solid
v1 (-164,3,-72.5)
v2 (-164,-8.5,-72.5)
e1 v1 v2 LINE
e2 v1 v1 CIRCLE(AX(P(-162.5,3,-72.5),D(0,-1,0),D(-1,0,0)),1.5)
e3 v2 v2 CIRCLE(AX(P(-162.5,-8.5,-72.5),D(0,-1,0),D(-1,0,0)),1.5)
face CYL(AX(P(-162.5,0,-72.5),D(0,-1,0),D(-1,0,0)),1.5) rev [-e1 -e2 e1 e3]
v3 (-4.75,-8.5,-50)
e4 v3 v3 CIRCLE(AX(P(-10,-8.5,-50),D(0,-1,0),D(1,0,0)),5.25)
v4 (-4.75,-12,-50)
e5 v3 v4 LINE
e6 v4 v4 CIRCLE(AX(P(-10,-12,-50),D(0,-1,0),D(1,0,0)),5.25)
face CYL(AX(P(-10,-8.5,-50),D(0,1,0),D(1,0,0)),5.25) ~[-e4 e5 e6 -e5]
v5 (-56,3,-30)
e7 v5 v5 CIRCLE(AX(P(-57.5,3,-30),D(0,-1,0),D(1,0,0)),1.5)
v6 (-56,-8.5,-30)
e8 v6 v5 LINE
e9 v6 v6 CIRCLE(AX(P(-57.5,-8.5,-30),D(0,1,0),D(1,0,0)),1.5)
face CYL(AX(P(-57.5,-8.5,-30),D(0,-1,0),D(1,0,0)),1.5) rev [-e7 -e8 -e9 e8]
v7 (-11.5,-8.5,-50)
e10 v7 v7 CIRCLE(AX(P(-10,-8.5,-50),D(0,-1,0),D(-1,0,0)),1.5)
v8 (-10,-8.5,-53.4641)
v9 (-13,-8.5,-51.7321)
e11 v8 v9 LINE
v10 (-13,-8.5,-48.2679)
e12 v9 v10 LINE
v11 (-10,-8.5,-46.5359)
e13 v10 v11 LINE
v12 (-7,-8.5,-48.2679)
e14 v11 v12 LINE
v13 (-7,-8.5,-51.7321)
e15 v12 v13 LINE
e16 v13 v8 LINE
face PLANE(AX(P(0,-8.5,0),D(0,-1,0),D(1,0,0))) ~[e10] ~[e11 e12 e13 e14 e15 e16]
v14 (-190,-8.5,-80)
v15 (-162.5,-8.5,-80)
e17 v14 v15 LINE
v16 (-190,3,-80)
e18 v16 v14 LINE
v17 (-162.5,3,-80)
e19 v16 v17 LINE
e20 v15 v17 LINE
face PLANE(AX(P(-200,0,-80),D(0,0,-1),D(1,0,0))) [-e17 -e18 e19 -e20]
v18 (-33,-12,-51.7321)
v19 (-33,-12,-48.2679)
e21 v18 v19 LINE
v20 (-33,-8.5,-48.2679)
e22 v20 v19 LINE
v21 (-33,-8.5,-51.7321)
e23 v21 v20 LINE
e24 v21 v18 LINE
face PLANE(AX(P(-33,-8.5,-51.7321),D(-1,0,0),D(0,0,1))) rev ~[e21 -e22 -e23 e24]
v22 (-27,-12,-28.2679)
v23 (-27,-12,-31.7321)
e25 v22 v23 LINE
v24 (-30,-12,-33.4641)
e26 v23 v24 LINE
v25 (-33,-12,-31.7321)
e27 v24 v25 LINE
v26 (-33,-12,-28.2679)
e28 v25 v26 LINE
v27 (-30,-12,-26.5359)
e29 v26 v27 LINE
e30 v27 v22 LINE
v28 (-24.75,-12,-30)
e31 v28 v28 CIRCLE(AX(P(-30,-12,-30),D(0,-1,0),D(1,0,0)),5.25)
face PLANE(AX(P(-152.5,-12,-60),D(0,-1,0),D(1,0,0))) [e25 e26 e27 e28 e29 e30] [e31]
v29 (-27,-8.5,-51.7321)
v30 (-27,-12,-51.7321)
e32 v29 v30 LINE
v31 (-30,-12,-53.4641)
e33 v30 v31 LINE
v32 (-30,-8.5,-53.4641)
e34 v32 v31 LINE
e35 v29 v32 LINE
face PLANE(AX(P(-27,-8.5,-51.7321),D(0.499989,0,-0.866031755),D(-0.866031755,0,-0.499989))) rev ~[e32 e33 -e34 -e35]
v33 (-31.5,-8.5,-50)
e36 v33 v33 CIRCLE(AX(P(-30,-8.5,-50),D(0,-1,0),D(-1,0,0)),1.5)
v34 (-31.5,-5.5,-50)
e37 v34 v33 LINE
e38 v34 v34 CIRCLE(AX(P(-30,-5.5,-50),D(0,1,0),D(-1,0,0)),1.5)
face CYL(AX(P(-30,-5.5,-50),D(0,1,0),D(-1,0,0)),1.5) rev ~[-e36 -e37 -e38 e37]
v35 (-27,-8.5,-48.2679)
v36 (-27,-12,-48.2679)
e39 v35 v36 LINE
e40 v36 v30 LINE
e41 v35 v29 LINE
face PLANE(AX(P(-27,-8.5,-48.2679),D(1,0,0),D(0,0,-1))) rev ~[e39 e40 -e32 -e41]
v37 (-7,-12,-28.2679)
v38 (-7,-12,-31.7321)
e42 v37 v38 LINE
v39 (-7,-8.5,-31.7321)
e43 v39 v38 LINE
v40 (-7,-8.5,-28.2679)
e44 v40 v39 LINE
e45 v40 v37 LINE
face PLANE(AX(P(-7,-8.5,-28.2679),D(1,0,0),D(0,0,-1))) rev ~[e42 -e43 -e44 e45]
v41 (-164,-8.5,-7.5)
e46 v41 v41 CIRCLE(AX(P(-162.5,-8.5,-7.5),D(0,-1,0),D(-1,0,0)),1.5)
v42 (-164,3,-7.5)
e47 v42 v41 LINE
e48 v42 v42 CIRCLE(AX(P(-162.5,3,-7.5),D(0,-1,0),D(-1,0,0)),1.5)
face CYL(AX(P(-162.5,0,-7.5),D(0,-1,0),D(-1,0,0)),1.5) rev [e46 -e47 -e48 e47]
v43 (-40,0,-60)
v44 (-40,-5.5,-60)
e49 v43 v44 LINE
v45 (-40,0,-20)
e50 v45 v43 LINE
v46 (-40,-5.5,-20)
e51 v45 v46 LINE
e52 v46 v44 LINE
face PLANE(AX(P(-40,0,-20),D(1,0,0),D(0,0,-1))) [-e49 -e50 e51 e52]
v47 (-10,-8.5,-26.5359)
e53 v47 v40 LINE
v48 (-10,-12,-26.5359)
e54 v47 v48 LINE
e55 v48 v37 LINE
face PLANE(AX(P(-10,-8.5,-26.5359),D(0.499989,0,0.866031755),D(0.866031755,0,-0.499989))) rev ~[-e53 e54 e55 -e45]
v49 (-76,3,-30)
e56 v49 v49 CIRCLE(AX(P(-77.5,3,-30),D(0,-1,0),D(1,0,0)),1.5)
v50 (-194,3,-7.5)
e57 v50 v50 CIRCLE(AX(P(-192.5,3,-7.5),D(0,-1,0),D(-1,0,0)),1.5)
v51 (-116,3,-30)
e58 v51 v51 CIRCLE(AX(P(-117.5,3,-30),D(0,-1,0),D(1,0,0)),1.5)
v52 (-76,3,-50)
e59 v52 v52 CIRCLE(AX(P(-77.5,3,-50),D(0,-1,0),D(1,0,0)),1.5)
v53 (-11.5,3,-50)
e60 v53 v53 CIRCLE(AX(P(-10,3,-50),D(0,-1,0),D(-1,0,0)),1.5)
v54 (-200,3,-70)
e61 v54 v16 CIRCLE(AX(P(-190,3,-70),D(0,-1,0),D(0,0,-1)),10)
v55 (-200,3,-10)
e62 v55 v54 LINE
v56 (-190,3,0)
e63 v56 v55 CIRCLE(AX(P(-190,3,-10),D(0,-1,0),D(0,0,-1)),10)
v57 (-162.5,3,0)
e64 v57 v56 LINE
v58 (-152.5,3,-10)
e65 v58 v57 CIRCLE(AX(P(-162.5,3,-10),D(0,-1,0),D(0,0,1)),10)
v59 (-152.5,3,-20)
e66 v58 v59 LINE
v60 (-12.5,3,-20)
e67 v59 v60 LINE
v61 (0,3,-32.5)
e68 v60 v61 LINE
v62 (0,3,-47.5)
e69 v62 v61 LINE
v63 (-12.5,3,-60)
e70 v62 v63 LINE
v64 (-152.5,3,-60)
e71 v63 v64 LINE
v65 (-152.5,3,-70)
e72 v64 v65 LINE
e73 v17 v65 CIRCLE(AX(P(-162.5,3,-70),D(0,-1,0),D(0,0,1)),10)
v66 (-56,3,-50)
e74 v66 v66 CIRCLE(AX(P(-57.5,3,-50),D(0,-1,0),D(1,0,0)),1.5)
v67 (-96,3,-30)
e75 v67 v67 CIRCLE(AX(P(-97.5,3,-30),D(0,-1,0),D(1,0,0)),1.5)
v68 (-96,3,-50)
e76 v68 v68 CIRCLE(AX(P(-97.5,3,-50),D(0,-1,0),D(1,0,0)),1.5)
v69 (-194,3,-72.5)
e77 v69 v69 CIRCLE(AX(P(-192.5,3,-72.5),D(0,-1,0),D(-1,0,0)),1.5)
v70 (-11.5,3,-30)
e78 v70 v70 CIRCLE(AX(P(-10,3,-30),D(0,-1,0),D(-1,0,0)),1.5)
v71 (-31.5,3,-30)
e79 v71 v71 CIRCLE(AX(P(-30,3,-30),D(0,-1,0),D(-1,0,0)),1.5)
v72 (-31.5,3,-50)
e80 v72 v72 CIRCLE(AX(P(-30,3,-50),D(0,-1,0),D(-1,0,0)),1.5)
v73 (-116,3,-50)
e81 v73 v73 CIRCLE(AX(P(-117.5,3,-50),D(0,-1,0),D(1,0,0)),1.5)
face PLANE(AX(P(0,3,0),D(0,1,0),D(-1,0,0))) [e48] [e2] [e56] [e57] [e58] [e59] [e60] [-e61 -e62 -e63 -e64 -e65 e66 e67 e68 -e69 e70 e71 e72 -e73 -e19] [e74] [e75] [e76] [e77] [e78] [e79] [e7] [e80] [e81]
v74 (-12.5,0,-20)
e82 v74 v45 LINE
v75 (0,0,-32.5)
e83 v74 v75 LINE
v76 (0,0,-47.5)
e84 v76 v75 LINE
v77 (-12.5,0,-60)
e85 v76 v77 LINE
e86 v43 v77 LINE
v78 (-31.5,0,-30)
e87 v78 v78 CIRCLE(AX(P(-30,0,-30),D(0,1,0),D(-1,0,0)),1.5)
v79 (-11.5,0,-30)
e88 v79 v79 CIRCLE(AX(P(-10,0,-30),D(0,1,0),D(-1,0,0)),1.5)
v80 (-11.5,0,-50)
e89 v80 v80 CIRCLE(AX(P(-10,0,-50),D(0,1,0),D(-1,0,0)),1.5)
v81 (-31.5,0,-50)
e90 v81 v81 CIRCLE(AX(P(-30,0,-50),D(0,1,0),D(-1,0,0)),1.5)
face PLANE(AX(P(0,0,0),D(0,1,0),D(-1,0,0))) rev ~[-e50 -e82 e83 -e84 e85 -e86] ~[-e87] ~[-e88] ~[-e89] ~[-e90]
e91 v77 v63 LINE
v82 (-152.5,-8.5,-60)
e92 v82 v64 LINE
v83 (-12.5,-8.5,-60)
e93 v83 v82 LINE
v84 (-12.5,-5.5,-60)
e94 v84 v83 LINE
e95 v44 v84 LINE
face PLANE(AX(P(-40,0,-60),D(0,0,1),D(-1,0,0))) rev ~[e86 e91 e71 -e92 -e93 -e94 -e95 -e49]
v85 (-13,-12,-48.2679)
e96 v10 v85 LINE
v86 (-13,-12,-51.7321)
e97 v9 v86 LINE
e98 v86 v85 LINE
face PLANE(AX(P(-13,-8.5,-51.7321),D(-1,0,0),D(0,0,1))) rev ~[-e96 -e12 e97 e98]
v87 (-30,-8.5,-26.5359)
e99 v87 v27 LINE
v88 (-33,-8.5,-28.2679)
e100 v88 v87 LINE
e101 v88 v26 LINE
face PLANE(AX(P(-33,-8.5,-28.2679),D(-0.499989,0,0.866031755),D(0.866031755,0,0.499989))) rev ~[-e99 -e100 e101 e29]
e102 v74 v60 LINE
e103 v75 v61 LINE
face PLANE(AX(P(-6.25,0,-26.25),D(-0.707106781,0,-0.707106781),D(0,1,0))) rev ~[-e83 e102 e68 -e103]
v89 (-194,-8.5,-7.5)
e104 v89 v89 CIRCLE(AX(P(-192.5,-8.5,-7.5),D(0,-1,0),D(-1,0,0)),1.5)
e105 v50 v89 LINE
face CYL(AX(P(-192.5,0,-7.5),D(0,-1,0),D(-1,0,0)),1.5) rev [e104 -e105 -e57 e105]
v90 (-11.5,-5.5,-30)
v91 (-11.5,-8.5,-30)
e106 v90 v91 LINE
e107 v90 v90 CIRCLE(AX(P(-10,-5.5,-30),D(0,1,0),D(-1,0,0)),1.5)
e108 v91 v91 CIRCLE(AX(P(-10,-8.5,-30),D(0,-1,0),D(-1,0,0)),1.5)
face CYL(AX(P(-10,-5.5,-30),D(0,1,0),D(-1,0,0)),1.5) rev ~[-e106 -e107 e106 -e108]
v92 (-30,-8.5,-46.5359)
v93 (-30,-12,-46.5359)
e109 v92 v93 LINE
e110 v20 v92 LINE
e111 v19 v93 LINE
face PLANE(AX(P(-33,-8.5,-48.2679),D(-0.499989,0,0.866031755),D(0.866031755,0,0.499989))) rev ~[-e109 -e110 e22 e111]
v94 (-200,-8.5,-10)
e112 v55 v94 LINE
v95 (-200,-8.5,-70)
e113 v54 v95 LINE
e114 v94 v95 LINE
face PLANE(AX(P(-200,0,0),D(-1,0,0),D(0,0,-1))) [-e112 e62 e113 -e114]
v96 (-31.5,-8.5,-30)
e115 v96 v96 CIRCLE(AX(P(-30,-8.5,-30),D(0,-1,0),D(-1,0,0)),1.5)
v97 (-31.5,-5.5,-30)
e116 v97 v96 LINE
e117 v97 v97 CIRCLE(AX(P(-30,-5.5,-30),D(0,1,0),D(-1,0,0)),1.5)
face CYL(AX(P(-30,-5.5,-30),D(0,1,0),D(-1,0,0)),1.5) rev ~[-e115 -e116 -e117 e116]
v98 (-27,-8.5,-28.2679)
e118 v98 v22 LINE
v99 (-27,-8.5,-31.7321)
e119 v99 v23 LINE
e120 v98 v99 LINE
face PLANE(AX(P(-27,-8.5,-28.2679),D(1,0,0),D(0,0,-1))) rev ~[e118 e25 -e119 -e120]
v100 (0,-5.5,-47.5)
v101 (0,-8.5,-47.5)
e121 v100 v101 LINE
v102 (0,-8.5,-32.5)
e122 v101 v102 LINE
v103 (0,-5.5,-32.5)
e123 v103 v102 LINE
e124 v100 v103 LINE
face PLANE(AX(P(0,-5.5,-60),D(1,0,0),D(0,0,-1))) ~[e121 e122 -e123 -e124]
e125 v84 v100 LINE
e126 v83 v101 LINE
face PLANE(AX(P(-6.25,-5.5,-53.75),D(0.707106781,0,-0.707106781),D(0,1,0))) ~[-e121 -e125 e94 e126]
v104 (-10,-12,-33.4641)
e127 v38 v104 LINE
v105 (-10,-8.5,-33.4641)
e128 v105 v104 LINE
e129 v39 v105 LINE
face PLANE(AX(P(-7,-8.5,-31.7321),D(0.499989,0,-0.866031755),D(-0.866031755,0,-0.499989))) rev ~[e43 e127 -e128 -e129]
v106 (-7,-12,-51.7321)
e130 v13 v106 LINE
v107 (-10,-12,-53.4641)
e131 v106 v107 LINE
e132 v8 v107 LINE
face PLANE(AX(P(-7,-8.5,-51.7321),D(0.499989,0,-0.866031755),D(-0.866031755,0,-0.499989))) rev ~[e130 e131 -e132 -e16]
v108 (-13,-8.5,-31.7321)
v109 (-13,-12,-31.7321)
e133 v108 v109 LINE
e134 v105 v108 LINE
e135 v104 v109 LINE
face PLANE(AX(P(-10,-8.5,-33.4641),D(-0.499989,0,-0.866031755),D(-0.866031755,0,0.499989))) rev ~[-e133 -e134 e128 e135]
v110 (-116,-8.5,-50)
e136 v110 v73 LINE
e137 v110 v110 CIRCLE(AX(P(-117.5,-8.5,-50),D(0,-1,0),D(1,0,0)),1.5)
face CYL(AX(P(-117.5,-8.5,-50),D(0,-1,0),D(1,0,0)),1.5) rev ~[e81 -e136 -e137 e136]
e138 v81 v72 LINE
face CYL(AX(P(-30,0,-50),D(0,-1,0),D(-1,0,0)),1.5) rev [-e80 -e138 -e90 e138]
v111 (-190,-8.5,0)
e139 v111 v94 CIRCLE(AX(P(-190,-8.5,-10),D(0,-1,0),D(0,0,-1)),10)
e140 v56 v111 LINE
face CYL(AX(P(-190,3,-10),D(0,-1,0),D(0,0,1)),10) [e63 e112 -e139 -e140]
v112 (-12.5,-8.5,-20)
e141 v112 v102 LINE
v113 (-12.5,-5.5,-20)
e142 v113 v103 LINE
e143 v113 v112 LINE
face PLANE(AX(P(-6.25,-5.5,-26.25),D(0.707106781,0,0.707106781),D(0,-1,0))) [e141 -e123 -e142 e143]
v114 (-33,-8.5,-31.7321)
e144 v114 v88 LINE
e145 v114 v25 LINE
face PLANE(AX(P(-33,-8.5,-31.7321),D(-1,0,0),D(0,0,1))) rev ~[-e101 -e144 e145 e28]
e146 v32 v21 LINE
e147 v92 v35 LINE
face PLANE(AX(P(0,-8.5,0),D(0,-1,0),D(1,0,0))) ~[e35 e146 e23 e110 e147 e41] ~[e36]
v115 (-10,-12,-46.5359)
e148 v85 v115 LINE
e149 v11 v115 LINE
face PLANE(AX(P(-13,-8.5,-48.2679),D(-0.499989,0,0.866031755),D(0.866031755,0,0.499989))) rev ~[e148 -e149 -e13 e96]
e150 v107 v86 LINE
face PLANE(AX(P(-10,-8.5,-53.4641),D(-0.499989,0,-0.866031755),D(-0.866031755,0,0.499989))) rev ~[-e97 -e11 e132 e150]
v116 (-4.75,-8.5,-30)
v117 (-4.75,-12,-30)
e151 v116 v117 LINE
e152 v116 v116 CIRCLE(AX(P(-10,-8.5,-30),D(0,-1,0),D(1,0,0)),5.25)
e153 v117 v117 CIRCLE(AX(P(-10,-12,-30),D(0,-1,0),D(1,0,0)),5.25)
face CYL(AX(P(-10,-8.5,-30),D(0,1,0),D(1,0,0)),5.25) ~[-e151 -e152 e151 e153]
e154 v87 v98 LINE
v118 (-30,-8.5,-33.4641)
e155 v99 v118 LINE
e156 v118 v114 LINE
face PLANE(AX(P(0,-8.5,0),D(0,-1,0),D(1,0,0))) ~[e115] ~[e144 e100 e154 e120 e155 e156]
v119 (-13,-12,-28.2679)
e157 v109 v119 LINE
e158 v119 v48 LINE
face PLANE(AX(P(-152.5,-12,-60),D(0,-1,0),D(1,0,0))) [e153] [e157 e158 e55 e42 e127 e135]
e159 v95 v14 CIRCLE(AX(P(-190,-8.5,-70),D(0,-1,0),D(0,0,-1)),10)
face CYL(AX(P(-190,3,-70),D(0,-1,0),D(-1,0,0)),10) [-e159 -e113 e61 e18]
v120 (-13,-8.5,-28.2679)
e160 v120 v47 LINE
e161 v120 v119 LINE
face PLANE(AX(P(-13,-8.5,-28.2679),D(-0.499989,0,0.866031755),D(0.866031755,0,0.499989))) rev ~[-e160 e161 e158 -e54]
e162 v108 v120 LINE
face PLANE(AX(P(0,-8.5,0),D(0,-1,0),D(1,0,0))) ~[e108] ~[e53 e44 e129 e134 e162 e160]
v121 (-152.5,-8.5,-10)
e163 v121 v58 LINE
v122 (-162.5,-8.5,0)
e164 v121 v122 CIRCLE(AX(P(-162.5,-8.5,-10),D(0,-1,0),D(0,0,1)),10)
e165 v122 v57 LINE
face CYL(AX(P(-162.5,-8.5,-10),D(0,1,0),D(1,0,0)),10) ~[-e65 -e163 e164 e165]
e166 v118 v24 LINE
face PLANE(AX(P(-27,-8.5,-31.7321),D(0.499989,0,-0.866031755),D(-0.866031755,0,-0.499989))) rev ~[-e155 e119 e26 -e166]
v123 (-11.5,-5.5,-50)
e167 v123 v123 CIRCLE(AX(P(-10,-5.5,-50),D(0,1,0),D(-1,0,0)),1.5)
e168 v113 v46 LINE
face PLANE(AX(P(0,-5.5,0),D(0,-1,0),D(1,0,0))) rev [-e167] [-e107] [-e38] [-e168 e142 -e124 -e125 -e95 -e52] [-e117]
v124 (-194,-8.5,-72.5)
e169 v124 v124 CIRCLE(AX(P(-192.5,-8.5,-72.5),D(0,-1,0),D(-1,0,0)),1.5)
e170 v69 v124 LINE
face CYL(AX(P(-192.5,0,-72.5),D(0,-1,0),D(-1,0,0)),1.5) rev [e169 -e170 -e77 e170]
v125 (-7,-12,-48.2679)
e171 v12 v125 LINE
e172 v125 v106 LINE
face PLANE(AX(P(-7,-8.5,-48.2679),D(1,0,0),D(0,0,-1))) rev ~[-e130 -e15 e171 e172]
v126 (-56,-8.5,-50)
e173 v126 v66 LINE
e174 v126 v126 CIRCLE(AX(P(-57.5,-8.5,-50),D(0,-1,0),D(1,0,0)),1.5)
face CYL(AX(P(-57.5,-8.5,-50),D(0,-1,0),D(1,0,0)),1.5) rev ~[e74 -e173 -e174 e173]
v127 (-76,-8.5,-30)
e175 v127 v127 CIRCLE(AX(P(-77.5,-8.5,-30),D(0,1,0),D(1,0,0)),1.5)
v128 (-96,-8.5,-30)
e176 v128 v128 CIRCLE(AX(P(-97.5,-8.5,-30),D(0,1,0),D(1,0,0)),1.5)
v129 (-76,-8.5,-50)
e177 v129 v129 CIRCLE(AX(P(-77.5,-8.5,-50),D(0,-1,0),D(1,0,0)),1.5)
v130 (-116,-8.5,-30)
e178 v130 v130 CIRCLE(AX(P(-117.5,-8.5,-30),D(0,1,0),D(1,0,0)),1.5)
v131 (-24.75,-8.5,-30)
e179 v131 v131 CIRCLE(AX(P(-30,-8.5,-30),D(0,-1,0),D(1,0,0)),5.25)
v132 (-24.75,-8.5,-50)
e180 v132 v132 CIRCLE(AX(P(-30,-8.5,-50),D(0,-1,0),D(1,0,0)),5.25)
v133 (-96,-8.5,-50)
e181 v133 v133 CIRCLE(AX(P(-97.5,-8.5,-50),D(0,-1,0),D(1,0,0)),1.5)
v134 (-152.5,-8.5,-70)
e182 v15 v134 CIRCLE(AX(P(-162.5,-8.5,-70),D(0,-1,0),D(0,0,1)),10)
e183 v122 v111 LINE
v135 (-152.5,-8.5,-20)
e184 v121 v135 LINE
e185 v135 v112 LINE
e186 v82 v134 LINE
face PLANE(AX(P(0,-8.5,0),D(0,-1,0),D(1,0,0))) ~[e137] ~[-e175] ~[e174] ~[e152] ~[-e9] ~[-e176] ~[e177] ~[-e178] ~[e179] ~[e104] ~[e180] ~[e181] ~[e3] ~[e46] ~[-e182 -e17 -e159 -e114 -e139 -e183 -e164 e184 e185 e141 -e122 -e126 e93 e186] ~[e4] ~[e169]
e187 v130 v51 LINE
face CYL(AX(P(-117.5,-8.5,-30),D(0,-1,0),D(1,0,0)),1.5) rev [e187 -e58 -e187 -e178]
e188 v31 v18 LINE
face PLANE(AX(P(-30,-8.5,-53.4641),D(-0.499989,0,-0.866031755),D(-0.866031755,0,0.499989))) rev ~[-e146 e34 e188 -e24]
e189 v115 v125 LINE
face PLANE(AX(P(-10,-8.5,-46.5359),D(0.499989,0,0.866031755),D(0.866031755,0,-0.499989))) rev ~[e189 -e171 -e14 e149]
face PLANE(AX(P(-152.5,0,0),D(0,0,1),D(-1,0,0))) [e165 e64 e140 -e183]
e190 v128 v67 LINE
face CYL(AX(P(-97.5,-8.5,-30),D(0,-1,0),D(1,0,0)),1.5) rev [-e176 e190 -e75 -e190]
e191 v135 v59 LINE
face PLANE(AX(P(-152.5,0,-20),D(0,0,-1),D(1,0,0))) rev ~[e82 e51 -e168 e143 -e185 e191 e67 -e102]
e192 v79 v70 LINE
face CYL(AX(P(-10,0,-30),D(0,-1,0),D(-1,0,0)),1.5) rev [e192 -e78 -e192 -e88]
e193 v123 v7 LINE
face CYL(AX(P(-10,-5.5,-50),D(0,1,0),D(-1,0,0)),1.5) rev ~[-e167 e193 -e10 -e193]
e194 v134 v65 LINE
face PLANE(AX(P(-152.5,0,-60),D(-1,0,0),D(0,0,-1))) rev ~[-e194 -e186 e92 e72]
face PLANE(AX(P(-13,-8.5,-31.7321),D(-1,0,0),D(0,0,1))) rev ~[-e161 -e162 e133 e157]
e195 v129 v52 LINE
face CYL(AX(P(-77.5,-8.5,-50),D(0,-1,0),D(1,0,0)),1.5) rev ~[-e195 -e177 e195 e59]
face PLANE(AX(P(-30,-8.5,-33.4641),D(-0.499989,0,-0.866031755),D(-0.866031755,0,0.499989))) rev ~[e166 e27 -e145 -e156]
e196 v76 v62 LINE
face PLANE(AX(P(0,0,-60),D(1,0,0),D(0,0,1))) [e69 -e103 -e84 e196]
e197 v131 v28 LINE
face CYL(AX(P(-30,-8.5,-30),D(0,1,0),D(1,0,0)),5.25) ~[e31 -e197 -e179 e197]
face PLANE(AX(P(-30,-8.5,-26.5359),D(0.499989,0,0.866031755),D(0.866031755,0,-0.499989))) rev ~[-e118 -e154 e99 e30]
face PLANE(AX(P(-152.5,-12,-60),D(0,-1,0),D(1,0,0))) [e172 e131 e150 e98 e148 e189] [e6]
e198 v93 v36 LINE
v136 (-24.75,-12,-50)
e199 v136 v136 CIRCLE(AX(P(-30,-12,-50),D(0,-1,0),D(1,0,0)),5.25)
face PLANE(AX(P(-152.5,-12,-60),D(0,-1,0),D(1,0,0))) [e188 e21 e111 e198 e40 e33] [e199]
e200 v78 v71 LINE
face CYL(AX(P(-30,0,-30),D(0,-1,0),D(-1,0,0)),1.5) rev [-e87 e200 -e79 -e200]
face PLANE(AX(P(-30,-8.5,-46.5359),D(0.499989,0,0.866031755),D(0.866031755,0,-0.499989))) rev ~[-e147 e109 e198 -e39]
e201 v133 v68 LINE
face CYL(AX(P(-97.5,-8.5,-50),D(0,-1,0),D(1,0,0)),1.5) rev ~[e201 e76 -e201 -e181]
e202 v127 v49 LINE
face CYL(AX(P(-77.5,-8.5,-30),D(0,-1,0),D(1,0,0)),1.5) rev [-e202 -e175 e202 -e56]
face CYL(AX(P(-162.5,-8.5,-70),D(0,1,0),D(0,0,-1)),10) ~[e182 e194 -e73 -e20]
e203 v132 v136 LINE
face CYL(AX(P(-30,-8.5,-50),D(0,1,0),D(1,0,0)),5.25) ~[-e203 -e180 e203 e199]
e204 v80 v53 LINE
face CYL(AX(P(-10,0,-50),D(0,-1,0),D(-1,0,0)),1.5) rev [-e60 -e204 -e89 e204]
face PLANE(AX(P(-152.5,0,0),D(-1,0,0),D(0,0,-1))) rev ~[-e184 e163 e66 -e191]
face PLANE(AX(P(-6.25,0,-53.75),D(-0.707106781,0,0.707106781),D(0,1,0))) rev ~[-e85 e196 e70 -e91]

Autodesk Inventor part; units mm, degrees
sketch "Sketch1" plane through (0, 0, 0) normal (0, 1, 0) x (-1, 0, 0)
  line L0 (0, 0) -> (200, 0)
  line L1 (200, 0) -> (200, -80)
  line L2 (200, -80) -> (0, -80)
  line L3 (0, -80) -> (0, 0)
  line L4 (10, -30) -> (30, -30)
  line L5 (30, -30) -> (30, -50)
  line L6 (30, -50) -> (10, -50)
  line L7 (10, -50) -> (10, -30)
  circle A0 centre (10, -30) radius 1.5
  circle A1 centre (30, -50) radius 1.5
  circle A2 centre (30, -30) radius 1.5
  circle A3 centre (10, -50) radius 1.5
  line L8 (192.5, -7.5) -> (162.5, -7.5)
  line L9 (162.5, -7.5) -> (162.5, -72.5)
  line L10 (162.5, -72.5) -> (192.5, -72.5)
  line L11 (192.5, -72.5) -> (192.5, -7.5)
  circle A4 centre (192.5, -7.5) radius 1.5
  circle A5 centre (192.5, -72.5) radius 1.5
  circle A6 centre (162.5, -72.5) radius 1.5
  circle A7 centre (162.5, -7.5) radius 1.5
  line L12 (200, 0) -> (152.5, 0)
  line L13 (152.5, 0) -> (152.5, -80)
  line L14 (152.5, -80) -> (200, -80)
  line L15 (200, -80) -> (200, 0)
  line L16 (152.5, -20) -> (0, -20)
  line L17 (0, -20) -> (0, -60)
  line L18 (0, -60) -> (152.5, -60)
  line L19 (152.5, -60) -> (152.5, -20)
  line L20 (40, -20) -> (40, -60)
  point P0 (191, -7.5)
  point P1 (192.5, -9)
  point P2 (192.5, -71)
  point P3 (191, -72.5)
  point P4 (164, -72.5)
  point P5 (162.5, -71)
  point P6 (164, -7.5)
  point P7 (162.5, -9)
  point P8 (152.5, 0)
  point P9 (0, -20)
  dimension "d0" = 200
  dimension "d1" = 80
  dimension "d2" = 20
  dimension "d3" = 20
  dimension "d4" = 30
  dimension "d5" = 10
  dimension "d6" = 3
  dimension "d7" = 3
  dimension "d8" = 3
  dimension "d9" = 3
  dimension "d10" = 65
  dimension "d11" = 30
  dimension "d12" = 7.5
  dimension "d13" = 7.5
  dimension "d14" = 3
  dimension "d15" = 3
  dimension "d16" = 3
  dimension "d17" = 3
  dimension "d18" = 20
  dimension "d19" = 20
  dimension "d20" = 10
  dimension "d23" = 40
extrude "Extrusion1" add sketch "Sketch1" along normal blind 3 contours L0 L1 L2 L13 | L16 L20 L18 L3 | L13 L18 L20 L16 | L4 A2 L5 A1 L6 A3 L7 A0 | L8 A4 L11 A5 L10 A6 L9 A7
extrude "Extrusion2" add sketch "Sketch1" against normal blind 5.5 contours L0 L1 L2 L13 | L13 L18 L20 L16 | L8 A4 L11 A5 L10 A6 L9 A7
ref_plane "Work Plane1" through (0, -2.75, 0) normal (0, -1, 0) x (1, 0, 0)
mirror "Mirror1" about plane through (0, -2.75, 0) normal (0, -1, 0) of "Extrusion1"
chamfer "Chamfer1" distance 12.5 angle 45 4 edges at (0, 1.5, -20) (0, -7, -20) (0, -7, -60) (0, 1.5, -60)
ref_plane "Work Plane2" through (-152.5, -8.5, -20) normal (0, 0, -1) x (-1, 0, 0)
fillet "Fillet2" radius 10 4 edges at (-200, -2.75, -80) (-152.5, -2.75, -80) (-152.5, -2.75, 0) (-200, -2.75, 0)
sketch "Sketch5" plane through (-152.5, -8.5, -60) normal (0, -1, 0) x (1, 0, 0)
  circle A0 centre (122.5, 30) radius 1.5 projected
  line L0 (122.5, 33.4641) -> (125.5, 31.7321)
  line L1 (125.5, 31.7321) -> (125.5, 28.2679)
  line L2 (125.5, 28.2679) -> (122.5, 26.5359)
  line L3 (122.5, 26.5359) -> (119.5, 28.2679)
  line L4 (119.5, 28.2679) -> (119.5, 31.7321)
  line L5 (119.5, 31.7321) -> (122.5, 33.4641)
  circle A1 centre (142.5, 30) radius 1.5 projected
  line L6 (142.5, 33.4641) -> (145.5, 31.7321)
  line L7 (145.5, 31.7321) -> (145.5, 28.2679)
  line L8 (145.5, 28.2679) -> (142.5, 26.5359)
  line L9 (142.5, 26.5359) -> (139.5, 28.2679)
  line L10 (139.5, 28.2679) -> (139.5, 31.7321)
  line L11 (139.5, 31.7321) -> (142.5, 33.4641)
  circle A2 centre (142.5, 10) radius 1.5 projected
  line L12 (142.5, 13.4641) -> (145.5, 11.7321)
  line L13 (145.5, 11.7321) -> (145.5, 8.2679)
  line L14 (145.5, 8.2679) -> (142.5, 6.5359)
  line L15 (142.5, 6.5359) -> (139.5, 8.2679)
  line L16 (139.5, 8.2679) -> (139.5, 11.7321)
  line L17 (139.5, 11.7321) -> (142.5, 13.4641)
  circle A3 centre (122.5, 10) radius 1.5 projected
  line L18 (122.5, 13.4641) -> (125.5, 11.7321)
  line L19 (125.5, 11.7321) -> (125.5, 8.2679)
  line L20 (125.5, 8.2679) -> (122.5, 6.5359)
  line L21 (122.5, 6.5359) -> (119.5, 8.2679)
  line L22 (119.5, 8.2679) -> (119.5, 11.7321)
  line L23 (119.5, 11.7321) -> (122.5, 13.4641)
  circle A4 centre (122.5, 30) radius 5.25
  circle A5 centre (142.5, 30) radius 5.25
  circle A6 centre (142.5, 10) radius 5.25
  circle A7 centre (122.5, 10) radius 5.25
  point P0 (152.5, 60)
  dimension "d44" = 6
  dimension "d45" = 6
  dimension "d46" = 6
  dimension "d47" = 6
  dimension "d48" = 10.5
  dimension "d49" = 10.5
  dimension "d50" = 10.5
  dimension "d51" = 10.5
extrude "Extrusion5" add sketch "Sketch5" along normal blind 3.5 contours A4 | A5 | A6 | A7
sketch "Sketch6" plane through (-152.5, -8.5, -60) normal (0, -1, 0) x (1, 0, 0)
  circle A0 centre (35, 10) radius 1.5
  line L0 (140, 0) -> (0, 0) projected
  line L1 (0, 0) -> (0, -10) projected
  circle A1 centre (55, 10) radius 1.5
  circle A2 centre (75, 10) radius 1.5
  circle A3 centre (95, 10) radius 1.5
  point P0 (152.5, 60)
  dimension "d54" = 3
  dimension "d55" = 10
  dimension "d56" = 35
  dimension "d59" = 20
extrude "Extrusion6" cut sketch "Sketch6" against normal blind 33.25
ref_plane "Work Plane3" through (-152.5, -8.5, -40) normal (0, 0, -1) x (-1, 0, 0)
mirror "Mirror2" about plane through (-152.5, -8.5, -40) normal (0, 0, -1) of "Extrusion6"
properties part number "RobotBaseMotorExt"
